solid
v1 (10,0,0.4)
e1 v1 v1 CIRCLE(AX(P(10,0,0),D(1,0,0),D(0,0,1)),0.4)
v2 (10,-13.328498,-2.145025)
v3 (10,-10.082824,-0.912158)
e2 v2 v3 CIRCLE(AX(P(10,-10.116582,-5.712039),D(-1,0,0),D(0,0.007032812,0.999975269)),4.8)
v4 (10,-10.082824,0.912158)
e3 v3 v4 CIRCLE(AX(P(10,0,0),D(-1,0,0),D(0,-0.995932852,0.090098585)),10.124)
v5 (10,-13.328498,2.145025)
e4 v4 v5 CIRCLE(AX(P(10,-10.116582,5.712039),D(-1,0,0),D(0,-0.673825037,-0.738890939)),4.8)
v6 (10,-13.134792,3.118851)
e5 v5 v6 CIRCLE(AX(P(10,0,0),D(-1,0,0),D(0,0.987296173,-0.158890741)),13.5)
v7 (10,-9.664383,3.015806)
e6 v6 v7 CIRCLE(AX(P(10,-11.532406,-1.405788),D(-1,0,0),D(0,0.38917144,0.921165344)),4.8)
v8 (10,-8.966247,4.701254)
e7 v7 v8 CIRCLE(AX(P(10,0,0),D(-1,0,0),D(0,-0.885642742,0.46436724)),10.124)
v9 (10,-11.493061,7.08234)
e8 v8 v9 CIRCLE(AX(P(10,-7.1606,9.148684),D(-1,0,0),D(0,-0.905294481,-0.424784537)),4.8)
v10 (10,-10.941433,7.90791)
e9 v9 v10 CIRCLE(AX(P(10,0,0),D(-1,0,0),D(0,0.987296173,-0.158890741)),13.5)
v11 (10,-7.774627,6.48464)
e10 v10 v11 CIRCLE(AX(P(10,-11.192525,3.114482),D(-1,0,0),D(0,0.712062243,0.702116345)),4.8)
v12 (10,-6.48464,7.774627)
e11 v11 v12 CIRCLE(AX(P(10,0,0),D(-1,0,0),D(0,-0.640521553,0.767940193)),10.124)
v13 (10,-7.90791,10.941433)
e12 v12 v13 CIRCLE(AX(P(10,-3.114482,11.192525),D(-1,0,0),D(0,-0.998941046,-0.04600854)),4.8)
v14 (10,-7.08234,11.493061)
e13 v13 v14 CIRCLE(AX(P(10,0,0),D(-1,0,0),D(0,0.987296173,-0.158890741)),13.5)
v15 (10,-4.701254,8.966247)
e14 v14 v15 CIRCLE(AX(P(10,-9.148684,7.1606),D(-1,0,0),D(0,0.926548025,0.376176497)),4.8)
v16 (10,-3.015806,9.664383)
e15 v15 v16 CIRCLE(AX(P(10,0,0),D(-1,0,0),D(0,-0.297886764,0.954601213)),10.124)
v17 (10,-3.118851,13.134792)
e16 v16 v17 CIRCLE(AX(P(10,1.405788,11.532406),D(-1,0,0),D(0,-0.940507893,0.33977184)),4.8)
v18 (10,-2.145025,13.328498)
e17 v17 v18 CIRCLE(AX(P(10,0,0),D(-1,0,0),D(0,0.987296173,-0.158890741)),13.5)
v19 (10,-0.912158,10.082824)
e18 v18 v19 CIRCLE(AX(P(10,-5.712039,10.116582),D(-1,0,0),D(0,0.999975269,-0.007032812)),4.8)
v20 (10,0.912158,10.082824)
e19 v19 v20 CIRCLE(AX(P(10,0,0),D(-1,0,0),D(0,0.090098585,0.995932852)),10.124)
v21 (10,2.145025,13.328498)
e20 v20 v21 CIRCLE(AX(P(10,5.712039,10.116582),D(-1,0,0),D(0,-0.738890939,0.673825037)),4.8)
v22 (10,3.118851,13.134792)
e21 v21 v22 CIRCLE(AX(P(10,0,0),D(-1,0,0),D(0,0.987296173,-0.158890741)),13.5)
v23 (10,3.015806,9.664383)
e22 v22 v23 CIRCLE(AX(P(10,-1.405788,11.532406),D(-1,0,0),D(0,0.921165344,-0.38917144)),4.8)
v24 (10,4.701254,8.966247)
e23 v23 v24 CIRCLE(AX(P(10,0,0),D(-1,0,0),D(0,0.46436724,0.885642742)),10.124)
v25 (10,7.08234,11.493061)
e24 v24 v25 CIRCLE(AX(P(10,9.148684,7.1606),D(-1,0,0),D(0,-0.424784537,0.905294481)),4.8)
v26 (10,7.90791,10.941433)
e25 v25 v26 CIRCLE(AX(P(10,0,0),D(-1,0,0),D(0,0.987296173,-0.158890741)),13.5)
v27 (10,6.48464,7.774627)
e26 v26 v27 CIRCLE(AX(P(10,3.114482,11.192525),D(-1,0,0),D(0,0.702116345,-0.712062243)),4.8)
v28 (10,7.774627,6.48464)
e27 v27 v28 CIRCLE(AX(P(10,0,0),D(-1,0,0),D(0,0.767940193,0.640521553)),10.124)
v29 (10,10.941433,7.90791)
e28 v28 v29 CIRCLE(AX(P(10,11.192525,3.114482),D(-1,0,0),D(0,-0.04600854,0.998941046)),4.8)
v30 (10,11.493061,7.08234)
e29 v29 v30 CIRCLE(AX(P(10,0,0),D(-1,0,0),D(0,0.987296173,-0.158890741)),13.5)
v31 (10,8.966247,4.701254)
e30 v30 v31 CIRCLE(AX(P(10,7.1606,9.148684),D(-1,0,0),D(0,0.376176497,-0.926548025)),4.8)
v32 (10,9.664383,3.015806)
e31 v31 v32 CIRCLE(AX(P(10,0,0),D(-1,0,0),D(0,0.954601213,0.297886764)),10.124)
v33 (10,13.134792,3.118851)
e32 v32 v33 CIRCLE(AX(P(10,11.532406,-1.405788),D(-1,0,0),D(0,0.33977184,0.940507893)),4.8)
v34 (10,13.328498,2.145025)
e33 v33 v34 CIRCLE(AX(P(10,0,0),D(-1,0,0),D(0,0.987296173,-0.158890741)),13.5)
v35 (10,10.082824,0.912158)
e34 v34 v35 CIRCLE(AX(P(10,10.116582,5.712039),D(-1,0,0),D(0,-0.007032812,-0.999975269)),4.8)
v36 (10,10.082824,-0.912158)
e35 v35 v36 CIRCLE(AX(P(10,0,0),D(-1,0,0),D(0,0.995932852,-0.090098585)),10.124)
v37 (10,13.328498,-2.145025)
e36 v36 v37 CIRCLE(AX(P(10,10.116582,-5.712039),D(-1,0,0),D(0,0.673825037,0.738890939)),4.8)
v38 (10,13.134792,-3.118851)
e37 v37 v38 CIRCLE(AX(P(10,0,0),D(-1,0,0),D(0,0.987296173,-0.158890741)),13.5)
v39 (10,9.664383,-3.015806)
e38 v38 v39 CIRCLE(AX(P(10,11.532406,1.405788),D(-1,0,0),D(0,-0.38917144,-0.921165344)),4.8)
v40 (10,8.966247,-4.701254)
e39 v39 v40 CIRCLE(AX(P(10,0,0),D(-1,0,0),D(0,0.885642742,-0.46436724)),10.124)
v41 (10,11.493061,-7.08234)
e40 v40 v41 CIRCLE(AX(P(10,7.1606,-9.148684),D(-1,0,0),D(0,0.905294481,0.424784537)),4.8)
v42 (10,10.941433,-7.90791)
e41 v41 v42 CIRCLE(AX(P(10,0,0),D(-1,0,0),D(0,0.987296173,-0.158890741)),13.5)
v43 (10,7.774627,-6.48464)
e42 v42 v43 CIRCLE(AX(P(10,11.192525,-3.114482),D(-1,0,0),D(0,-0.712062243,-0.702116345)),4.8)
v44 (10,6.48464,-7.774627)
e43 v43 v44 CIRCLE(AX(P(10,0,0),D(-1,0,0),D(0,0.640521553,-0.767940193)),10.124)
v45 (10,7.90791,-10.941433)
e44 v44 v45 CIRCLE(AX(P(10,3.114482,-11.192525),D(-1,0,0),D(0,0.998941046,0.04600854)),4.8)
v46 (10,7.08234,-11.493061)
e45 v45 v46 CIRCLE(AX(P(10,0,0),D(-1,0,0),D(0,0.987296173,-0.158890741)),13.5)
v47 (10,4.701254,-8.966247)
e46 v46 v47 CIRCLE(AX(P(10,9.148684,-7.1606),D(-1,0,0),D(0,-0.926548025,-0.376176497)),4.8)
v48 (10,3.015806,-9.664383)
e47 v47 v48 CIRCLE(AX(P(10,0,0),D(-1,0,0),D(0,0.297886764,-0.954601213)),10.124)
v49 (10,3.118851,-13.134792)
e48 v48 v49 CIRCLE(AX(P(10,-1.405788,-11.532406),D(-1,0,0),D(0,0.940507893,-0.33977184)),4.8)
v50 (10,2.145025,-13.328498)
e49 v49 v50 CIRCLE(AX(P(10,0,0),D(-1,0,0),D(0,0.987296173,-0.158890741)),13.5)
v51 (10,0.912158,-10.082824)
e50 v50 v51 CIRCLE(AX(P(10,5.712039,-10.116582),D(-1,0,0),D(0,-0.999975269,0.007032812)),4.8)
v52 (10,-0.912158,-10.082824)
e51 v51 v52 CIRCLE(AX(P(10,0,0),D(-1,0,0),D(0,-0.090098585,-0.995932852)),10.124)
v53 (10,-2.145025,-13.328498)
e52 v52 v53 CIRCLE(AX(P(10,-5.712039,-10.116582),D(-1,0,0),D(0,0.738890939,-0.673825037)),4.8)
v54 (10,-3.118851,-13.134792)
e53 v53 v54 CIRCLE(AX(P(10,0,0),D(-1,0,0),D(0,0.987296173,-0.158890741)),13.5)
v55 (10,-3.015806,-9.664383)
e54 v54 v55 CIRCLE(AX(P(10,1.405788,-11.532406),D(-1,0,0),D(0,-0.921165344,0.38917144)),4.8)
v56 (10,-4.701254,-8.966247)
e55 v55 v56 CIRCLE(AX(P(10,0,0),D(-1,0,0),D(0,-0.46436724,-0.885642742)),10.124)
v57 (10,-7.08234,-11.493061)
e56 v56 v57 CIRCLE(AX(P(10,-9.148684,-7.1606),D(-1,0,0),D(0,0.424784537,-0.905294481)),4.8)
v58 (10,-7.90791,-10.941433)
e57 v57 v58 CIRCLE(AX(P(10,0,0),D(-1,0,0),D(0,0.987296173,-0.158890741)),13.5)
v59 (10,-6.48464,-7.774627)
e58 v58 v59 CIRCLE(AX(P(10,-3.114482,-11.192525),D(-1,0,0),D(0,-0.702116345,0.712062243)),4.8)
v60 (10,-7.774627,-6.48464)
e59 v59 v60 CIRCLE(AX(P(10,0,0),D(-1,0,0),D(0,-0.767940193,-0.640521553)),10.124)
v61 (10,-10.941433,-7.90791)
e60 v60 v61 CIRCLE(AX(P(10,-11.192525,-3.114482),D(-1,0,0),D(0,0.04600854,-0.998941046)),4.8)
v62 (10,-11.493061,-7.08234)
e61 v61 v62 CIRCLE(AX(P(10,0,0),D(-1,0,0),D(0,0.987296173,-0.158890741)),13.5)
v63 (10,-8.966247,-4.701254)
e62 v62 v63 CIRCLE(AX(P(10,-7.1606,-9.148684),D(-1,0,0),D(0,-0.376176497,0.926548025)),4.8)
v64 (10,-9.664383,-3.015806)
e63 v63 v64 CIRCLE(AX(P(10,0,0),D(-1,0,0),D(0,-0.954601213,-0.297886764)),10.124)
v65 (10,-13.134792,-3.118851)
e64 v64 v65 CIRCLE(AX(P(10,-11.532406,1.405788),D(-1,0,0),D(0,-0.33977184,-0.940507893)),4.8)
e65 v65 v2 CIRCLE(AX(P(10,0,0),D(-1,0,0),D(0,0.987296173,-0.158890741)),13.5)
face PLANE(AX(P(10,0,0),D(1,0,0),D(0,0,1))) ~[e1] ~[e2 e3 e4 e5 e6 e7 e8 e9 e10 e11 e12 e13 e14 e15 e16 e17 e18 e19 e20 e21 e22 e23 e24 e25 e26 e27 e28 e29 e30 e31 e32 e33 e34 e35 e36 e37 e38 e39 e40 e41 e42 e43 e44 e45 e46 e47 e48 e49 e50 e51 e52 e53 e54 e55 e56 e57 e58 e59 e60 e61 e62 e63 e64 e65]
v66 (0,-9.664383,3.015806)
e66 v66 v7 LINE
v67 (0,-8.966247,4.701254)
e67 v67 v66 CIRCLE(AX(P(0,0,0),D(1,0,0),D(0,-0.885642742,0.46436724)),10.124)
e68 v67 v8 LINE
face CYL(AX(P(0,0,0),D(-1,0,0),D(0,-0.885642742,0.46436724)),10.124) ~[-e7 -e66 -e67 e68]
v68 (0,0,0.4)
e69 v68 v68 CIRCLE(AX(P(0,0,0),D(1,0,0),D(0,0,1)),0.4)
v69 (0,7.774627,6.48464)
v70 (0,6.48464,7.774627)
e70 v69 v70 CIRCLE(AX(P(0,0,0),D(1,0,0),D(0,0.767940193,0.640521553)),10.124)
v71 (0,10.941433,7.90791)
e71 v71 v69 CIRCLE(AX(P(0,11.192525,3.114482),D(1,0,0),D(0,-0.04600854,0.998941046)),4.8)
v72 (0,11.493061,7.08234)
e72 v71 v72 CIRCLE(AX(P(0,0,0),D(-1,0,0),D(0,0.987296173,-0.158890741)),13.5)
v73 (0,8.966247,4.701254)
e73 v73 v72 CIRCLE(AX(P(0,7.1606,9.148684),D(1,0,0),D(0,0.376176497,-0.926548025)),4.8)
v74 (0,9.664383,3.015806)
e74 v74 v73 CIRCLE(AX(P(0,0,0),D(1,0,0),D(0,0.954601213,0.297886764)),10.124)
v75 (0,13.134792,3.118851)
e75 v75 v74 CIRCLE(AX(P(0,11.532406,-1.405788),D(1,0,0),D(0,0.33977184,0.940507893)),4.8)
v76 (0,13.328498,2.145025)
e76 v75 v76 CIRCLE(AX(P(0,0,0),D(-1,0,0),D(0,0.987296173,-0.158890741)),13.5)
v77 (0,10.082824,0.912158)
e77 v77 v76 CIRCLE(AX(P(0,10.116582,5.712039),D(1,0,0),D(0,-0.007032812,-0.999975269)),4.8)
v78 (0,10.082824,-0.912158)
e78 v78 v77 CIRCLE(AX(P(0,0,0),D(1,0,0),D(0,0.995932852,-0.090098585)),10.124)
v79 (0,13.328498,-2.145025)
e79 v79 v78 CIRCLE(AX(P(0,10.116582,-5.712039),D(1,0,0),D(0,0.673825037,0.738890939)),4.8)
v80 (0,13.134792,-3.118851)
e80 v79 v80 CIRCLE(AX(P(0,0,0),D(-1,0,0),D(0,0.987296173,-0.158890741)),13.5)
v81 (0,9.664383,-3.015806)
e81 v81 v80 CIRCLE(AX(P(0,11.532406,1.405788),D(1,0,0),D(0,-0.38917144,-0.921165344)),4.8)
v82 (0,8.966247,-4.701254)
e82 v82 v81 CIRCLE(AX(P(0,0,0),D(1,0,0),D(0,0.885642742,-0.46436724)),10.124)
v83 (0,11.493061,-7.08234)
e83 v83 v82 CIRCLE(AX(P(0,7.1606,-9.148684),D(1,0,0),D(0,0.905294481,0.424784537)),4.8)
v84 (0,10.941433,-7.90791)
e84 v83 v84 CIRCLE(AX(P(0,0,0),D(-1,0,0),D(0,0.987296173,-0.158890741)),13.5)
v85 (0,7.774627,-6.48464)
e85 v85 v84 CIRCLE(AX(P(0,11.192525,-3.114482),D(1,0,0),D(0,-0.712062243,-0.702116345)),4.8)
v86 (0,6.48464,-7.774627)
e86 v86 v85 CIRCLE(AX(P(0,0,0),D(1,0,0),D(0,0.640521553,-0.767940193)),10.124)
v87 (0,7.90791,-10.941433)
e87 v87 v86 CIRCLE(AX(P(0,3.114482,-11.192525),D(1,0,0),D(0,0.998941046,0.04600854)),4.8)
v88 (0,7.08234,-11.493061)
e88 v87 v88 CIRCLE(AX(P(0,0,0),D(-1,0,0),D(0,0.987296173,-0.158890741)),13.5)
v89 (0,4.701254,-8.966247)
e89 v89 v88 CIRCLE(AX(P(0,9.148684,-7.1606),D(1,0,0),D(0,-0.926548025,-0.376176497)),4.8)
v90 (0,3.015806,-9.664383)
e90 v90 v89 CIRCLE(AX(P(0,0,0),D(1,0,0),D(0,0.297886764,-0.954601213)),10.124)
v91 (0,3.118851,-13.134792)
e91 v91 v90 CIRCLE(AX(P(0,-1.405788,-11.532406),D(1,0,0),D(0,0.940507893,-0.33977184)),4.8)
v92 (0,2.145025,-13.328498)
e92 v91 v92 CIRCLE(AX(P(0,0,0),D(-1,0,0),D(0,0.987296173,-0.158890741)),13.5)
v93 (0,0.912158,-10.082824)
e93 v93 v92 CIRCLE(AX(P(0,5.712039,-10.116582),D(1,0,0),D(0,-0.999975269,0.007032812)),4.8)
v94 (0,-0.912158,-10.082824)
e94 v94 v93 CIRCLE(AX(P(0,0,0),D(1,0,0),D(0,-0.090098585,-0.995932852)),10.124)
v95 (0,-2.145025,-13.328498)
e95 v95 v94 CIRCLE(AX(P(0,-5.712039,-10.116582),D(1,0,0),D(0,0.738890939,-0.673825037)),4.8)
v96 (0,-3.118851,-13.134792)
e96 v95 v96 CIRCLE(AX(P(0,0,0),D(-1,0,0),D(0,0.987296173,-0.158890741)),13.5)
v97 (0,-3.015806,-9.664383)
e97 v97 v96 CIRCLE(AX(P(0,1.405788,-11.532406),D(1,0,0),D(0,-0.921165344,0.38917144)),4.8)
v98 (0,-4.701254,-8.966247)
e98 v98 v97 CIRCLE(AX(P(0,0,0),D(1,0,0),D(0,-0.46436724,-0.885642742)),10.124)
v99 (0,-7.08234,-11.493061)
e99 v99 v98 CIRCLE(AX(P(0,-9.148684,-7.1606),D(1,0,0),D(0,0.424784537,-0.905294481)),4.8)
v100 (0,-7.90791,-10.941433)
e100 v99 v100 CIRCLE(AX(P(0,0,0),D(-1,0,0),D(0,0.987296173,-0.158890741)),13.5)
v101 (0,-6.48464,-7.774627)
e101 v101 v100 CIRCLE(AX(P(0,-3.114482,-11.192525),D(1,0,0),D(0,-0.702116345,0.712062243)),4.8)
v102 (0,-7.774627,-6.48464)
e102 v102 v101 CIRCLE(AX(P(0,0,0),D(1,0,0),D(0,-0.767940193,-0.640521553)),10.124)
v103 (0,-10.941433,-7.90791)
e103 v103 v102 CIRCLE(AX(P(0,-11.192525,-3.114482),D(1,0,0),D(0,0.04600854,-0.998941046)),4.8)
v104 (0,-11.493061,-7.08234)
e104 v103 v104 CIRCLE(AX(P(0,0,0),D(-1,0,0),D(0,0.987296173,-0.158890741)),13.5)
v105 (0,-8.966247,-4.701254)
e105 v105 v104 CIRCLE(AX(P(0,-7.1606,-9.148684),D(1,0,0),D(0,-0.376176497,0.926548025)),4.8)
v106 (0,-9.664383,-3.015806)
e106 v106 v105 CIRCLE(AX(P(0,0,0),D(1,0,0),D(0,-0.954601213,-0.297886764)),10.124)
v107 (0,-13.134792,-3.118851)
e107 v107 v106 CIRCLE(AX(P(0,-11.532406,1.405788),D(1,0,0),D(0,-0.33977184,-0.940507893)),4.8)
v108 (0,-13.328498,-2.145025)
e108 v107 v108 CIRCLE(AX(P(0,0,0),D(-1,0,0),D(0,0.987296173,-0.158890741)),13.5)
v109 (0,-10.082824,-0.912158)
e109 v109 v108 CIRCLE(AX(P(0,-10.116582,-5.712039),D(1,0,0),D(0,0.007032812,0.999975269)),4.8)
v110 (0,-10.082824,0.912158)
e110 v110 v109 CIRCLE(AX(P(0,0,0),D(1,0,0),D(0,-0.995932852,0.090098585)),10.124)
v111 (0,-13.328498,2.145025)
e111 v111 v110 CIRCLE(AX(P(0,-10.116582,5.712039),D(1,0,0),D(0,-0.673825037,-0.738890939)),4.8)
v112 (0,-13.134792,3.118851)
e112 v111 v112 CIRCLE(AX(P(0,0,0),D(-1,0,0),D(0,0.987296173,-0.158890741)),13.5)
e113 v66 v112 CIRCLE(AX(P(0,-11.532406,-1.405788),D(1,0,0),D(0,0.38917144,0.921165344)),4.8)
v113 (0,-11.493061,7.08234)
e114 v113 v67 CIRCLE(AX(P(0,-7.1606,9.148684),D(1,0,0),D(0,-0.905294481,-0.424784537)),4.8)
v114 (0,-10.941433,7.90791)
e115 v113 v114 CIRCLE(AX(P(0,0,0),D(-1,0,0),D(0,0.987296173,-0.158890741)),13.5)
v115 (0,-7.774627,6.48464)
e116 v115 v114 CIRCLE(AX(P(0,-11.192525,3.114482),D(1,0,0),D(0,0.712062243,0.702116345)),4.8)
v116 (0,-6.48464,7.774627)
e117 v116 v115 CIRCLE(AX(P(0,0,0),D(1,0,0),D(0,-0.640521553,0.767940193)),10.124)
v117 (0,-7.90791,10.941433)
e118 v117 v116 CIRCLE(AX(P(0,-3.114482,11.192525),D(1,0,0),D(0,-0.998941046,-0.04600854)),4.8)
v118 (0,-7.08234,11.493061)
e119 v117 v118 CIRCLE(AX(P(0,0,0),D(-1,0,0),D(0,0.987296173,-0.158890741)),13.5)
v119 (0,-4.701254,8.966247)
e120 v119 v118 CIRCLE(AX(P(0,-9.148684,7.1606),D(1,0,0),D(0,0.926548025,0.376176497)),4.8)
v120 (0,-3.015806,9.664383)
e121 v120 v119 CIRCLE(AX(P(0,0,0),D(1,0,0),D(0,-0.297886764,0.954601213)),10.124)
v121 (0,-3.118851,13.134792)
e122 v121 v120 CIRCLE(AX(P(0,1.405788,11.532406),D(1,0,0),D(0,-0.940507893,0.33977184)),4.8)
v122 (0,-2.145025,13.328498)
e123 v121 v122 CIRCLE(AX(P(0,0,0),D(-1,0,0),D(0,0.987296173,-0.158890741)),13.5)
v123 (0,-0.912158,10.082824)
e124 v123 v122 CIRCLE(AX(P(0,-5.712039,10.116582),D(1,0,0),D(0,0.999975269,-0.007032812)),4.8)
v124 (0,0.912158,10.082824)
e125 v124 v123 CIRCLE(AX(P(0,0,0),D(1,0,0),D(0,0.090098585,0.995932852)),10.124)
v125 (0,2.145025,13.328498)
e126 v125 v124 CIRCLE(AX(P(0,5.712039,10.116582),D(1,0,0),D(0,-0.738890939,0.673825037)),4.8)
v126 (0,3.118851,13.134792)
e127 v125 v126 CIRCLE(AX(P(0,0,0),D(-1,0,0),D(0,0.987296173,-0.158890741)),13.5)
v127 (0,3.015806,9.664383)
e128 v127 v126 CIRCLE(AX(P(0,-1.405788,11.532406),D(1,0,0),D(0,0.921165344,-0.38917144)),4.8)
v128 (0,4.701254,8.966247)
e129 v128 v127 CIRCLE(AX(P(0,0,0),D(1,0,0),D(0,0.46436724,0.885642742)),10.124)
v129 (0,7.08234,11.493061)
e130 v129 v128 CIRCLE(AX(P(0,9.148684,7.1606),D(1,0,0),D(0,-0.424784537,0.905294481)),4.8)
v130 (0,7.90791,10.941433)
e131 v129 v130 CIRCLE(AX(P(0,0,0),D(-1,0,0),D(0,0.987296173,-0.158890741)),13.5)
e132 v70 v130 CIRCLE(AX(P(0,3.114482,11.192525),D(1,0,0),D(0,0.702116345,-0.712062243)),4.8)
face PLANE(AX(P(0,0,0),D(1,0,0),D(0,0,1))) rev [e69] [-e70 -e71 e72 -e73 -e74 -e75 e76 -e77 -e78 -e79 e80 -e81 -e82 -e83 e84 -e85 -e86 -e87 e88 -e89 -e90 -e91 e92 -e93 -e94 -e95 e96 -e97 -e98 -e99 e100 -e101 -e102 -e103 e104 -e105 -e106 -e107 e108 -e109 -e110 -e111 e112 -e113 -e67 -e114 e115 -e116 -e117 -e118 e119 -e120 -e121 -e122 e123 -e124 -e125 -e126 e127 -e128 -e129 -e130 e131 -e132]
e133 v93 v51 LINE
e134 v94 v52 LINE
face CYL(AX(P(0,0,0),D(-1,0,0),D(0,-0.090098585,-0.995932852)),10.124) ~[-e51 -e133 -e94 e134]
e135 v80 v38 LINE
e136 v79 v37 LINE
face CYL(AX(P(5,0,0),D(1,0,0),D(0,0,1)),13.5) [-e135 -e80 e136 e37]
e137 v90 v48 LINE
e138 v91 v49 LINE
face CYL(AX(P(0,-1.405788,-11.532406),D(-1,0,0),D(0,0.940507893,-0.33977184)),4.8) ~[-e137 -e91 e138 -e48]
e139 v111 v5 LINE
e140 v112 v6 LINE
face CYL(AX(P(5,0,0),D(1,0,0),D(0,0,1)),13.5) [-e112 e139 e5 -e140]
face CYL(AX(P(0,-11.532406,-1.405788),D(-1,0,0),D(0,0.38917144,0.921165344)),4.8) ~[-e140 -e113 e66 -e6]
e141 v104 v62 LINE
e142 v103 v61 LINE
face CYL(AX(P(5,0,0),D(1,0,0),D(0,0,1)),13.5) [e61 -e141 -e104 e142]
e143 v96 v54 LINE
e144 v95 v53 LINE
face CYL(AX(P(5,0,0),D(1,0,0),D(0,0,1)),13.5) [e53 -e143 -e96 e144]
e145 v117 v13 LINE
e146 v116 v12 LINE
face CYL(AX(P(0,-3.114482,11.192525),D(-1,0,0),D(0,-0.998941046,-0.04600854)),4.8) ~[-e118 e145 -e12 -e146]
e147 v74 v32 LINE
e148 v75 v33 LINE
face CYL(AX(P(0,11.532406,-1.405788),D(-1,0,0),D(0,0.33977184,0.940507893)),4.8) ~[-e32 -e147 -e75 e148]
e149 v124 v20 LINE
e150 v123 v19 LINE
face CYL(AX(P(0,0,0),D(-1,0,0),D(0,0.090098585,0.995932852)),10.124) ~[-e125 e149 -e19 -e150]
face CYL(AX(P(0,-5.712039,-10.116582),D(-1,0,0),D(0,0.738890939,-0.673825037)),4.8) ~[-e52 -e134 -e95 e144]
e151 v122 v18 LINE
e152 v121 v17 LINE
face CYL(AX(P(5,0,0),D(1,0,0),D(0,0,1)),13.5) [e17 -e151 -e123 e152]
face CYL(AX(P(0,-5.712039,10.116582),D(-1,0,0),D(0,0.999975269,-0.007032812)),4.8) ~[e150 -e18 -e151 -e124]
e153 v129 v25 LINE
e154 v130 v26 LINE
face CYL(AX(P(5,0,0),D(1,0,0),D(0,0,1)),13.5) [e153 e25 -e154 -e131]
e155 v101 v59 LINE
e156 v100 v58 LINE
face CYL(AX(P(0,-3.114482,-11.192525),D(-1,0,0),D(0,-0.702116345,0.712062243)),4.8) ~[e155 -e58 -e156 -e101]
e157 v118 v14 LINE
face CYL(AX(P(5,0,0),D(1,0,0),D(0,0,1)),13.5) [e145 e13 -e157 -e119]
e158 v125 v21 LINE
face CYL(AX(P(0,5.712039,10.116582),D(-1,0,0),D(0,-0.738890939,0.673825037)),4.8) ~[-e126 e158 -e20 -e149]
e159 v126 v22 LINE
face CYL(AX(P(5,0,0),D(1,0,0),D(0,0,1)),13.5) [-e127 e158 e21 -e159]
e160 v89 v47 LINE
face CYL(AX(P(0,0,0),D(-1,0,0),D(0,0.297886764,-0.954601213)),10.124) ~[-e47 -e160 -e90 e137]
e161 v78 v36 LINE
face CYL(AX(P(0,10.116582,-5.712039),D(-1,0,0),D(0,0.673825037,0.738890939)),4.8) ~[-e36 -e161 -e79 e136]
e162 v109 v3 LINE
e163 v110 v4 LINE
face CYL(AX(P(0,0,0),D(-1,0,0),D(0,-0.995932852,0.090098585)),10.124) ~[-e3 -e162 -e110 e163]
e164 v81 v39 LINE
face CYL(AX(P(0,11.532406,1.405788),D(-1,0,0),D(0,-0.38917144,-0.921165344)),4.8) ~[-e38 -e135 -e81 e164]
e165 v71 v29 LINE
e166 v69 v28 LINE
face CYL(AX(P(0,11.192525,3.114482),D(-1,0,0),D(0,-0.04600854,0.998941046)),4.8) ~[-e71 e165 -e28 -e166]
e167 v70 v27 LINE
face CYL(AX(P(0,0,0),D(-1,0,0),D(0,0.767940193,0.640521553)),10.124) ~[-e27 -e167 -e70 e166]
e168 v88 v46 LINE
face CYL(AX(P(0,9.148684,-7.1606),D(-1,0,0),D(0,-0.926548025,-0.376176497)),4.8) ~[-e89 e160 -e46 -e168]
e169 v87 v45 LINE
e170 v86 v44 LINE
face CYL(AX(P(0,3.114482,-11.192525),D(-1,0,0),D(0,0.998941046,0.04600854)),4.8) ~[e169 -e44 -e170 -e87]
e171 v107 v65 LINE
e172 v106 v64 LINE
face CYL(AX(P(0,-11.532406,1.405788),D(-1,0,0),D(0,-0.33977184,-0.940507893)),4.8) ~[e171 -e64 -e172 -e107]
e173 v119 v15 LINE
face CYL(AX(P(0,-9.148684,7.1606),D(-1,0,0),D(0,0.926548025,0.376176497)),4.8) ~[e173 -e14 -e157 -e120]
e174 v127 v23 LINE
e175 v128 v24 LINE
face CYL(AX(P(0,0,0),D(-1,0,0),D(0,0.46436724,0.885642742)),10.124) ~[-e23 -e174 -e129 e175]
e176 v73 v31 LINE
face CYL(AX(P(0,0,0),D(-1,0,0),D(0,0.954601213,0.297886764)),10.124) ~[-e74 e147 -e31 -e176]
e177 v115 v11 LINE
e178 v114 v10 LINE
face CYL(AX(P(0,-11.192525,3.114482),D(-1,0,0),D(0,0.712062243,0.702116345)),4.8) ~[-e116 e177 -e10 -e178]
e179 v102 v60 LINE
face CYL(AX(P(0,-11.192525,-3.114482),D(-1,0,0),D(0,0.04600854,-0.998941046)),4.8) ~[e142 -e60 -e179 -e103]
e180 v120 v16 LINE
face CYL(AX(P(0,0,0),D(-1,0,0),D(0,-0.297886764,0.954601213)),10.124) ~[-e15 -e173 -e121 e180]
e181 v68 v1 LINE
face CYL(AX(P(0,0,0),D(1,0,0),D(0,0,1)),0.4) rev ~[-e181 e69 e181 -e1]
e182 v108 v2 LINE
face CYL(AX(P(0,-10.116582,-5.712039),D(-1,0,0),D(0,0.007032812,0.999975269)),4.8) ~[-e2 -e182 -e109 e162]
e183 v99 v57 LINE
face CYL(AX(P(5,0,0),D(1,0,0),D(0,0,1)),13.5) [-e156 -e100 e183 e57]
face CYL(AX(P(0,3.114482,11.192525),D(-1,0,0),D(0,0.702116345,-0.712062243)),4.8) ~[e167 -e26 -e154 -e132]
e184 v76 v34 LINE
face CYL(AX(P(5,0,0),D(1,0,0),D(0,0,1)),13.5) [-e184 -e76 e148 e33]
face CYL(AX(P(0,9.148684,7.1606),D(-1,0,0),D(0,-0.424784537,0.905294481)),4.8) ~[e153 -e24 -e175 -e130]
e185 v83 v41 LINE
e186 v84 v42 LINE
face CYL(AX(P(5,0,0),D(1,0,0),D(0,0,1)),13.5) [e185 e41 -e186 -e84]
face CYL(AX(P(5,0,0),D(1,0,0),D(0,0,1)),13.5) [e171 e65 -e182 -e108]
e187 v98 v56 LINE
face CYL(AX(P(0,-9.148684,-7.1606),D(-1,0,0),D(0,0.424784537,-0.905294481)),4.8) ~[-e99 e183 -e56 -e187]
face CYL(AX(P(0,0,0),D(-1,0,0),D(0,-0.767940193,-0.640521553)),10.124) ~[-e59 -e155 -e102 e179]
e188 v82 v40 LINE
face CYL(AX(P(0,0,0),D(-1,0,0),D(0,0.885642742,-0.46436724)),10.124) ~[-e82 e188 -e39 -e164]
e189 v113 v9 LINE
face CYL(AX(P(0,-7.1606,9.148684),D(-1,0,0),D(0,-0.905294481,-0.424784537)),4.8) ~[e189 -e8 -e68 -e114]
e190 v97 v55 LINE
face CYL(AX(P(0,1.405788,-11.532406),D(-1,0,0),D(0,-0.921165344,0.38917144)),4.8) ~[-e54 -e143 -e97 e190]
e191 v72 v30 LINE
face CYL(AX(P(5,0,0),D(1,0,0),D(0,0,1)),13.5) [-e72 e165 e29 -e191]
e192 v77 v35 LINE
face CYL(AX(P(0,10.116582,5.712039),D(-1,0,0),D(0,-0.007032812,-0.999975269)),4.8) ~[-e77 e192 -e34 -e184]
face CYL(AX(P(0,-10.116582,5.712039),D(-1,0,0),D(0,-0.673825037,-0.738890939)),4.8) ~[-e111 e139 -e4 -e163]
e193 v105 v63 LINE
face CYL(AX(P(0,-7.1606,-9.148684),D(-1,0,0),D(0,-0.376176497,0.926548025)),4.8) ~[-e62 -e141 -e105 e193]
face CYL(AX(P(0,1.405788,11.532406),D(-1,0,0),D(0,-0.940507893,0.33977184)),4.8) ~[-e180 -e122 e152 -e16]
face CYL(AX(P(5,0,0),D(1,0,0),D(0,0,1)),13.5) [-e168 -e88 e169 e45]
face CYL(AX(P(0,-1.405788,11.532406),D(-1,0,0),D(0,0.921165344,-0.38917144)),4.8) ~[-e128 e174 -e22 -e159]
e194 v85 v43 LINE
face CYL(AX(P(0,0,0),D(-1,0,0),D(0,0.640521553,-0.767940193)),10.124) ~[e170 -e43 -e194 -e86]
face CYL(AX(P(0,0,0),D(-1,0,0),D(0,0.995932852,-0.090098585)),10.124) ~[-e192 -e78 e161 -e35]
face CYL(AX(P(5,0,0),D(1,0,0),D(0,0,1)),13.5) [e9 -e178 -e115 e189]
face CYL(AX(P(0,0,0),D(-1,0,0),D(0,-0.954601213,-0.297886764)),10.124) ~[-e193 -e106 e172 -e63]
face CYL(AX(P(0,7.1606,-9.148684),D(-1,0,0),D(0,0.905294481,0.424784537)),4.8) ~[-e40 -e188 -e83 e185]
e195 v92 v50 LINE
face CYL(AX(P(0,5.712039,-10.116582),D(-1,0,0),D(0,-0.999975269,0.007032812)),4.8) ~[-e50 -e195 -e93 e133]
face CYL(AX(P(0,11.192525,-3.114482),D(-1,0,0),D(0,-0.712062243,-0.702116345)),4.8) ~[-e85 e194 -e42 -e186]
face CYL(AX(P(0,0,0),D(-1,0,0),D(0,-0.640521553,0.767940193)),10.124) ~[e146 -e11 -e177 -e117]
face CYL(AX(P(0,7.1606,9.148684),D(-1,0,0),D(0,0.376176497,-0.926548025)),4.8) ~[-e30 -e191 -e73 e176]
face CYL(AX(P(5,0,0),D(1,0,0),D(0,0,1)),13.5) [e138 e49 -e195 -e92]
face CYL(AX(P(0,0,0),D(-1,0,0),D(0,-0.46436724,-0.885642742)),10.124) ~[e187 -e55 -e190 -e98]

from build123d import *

# Parameters (mm, degrees)
BASPROSKE_W     = 10
BASPROSKE_H     = 13.5
TOOTHCUT_DEPTH  = 22.552262062
TEETHCUTS_COUNT = 16
TEETHCUTS_ANGLE = 337.5
BORSKE_R        = 0.4
BORE_DEPTH      = 50.0000508


with BuildPart() as part:
    # BasProSke → Base-Revolve (revolve)
    with BuildSketch(Plane(origin=(0, 0, 0), x_dir=(1, 0, 0), z_dir=(0, 1, 0)), mode=Mode.PRIVATE) as base_revolve_sk:
        with Locations((5, 6.75)):
            Rectangle(BASPROSKE_W, BASPROSKE_H)
    revolve(base_revolve_sk.sketch.rotate(Axis((-10, 0, 0), (1, 0, 0)), 180), axis=Axis((-10, 0, 0), (1, 0, 0)))

    # TooCutSke → ToothCut (cut, through all)
    with BuildSketch(Plane(origin=(0, 0, 0), x_dir=(0, 0, -1), z_dir=(1, 0, 0))):
        with BuildLine():
            ThreePointArc((0.91215808, 10.08282419), (0, 10.124), (-0.91215808, 10.08282419))
            ThreePointArc((-0.91215808, 10.08282419), (-1.23025345, 11.835184302), (-2.165362868, 13.35094187))
            ThreePointArc((-2.165362868, 13.35094187), (0, 13.5254), (2.165362868, 13.35094187))
            ThreePointArc((2.165362868, 13.35094187), (1.23025345, 11.835184302), (0.91215808, 10.08282419))
        make_face()
    toothcut = extrude(amount=TOOTHCUT_DEPTH, mode=Mode.SUBTRACT)

    # TeethCuts: ToothCut ×16 about axis
    teethcuts_axis = Axis((-10, 0, 0), (1, 0, 0))
    for i in range(1, TEETHCUTS_COUNT):
        add(toothcut.rotate(teethcuts_axis, i * TEETHCUTS_ANGLE / (TEETHCUTS_COUNT - 1)), mode=Mode.SUBTRACT)

    # BorSke → Bore (cut, symmetric)
    with BuildSketch(Plane(origin=(0, 0, 0), x_dir=(0, 0, -1), z_dir=(1, 0, 0))):
        with Locations(Location((0, 0, 0), (0, 0, 180))):
            Circle(BORSKE_R)
    extrude(amount=BORE_DEPTH, both=True, mode=Mode.SUBTRACT)


solid = part.part
